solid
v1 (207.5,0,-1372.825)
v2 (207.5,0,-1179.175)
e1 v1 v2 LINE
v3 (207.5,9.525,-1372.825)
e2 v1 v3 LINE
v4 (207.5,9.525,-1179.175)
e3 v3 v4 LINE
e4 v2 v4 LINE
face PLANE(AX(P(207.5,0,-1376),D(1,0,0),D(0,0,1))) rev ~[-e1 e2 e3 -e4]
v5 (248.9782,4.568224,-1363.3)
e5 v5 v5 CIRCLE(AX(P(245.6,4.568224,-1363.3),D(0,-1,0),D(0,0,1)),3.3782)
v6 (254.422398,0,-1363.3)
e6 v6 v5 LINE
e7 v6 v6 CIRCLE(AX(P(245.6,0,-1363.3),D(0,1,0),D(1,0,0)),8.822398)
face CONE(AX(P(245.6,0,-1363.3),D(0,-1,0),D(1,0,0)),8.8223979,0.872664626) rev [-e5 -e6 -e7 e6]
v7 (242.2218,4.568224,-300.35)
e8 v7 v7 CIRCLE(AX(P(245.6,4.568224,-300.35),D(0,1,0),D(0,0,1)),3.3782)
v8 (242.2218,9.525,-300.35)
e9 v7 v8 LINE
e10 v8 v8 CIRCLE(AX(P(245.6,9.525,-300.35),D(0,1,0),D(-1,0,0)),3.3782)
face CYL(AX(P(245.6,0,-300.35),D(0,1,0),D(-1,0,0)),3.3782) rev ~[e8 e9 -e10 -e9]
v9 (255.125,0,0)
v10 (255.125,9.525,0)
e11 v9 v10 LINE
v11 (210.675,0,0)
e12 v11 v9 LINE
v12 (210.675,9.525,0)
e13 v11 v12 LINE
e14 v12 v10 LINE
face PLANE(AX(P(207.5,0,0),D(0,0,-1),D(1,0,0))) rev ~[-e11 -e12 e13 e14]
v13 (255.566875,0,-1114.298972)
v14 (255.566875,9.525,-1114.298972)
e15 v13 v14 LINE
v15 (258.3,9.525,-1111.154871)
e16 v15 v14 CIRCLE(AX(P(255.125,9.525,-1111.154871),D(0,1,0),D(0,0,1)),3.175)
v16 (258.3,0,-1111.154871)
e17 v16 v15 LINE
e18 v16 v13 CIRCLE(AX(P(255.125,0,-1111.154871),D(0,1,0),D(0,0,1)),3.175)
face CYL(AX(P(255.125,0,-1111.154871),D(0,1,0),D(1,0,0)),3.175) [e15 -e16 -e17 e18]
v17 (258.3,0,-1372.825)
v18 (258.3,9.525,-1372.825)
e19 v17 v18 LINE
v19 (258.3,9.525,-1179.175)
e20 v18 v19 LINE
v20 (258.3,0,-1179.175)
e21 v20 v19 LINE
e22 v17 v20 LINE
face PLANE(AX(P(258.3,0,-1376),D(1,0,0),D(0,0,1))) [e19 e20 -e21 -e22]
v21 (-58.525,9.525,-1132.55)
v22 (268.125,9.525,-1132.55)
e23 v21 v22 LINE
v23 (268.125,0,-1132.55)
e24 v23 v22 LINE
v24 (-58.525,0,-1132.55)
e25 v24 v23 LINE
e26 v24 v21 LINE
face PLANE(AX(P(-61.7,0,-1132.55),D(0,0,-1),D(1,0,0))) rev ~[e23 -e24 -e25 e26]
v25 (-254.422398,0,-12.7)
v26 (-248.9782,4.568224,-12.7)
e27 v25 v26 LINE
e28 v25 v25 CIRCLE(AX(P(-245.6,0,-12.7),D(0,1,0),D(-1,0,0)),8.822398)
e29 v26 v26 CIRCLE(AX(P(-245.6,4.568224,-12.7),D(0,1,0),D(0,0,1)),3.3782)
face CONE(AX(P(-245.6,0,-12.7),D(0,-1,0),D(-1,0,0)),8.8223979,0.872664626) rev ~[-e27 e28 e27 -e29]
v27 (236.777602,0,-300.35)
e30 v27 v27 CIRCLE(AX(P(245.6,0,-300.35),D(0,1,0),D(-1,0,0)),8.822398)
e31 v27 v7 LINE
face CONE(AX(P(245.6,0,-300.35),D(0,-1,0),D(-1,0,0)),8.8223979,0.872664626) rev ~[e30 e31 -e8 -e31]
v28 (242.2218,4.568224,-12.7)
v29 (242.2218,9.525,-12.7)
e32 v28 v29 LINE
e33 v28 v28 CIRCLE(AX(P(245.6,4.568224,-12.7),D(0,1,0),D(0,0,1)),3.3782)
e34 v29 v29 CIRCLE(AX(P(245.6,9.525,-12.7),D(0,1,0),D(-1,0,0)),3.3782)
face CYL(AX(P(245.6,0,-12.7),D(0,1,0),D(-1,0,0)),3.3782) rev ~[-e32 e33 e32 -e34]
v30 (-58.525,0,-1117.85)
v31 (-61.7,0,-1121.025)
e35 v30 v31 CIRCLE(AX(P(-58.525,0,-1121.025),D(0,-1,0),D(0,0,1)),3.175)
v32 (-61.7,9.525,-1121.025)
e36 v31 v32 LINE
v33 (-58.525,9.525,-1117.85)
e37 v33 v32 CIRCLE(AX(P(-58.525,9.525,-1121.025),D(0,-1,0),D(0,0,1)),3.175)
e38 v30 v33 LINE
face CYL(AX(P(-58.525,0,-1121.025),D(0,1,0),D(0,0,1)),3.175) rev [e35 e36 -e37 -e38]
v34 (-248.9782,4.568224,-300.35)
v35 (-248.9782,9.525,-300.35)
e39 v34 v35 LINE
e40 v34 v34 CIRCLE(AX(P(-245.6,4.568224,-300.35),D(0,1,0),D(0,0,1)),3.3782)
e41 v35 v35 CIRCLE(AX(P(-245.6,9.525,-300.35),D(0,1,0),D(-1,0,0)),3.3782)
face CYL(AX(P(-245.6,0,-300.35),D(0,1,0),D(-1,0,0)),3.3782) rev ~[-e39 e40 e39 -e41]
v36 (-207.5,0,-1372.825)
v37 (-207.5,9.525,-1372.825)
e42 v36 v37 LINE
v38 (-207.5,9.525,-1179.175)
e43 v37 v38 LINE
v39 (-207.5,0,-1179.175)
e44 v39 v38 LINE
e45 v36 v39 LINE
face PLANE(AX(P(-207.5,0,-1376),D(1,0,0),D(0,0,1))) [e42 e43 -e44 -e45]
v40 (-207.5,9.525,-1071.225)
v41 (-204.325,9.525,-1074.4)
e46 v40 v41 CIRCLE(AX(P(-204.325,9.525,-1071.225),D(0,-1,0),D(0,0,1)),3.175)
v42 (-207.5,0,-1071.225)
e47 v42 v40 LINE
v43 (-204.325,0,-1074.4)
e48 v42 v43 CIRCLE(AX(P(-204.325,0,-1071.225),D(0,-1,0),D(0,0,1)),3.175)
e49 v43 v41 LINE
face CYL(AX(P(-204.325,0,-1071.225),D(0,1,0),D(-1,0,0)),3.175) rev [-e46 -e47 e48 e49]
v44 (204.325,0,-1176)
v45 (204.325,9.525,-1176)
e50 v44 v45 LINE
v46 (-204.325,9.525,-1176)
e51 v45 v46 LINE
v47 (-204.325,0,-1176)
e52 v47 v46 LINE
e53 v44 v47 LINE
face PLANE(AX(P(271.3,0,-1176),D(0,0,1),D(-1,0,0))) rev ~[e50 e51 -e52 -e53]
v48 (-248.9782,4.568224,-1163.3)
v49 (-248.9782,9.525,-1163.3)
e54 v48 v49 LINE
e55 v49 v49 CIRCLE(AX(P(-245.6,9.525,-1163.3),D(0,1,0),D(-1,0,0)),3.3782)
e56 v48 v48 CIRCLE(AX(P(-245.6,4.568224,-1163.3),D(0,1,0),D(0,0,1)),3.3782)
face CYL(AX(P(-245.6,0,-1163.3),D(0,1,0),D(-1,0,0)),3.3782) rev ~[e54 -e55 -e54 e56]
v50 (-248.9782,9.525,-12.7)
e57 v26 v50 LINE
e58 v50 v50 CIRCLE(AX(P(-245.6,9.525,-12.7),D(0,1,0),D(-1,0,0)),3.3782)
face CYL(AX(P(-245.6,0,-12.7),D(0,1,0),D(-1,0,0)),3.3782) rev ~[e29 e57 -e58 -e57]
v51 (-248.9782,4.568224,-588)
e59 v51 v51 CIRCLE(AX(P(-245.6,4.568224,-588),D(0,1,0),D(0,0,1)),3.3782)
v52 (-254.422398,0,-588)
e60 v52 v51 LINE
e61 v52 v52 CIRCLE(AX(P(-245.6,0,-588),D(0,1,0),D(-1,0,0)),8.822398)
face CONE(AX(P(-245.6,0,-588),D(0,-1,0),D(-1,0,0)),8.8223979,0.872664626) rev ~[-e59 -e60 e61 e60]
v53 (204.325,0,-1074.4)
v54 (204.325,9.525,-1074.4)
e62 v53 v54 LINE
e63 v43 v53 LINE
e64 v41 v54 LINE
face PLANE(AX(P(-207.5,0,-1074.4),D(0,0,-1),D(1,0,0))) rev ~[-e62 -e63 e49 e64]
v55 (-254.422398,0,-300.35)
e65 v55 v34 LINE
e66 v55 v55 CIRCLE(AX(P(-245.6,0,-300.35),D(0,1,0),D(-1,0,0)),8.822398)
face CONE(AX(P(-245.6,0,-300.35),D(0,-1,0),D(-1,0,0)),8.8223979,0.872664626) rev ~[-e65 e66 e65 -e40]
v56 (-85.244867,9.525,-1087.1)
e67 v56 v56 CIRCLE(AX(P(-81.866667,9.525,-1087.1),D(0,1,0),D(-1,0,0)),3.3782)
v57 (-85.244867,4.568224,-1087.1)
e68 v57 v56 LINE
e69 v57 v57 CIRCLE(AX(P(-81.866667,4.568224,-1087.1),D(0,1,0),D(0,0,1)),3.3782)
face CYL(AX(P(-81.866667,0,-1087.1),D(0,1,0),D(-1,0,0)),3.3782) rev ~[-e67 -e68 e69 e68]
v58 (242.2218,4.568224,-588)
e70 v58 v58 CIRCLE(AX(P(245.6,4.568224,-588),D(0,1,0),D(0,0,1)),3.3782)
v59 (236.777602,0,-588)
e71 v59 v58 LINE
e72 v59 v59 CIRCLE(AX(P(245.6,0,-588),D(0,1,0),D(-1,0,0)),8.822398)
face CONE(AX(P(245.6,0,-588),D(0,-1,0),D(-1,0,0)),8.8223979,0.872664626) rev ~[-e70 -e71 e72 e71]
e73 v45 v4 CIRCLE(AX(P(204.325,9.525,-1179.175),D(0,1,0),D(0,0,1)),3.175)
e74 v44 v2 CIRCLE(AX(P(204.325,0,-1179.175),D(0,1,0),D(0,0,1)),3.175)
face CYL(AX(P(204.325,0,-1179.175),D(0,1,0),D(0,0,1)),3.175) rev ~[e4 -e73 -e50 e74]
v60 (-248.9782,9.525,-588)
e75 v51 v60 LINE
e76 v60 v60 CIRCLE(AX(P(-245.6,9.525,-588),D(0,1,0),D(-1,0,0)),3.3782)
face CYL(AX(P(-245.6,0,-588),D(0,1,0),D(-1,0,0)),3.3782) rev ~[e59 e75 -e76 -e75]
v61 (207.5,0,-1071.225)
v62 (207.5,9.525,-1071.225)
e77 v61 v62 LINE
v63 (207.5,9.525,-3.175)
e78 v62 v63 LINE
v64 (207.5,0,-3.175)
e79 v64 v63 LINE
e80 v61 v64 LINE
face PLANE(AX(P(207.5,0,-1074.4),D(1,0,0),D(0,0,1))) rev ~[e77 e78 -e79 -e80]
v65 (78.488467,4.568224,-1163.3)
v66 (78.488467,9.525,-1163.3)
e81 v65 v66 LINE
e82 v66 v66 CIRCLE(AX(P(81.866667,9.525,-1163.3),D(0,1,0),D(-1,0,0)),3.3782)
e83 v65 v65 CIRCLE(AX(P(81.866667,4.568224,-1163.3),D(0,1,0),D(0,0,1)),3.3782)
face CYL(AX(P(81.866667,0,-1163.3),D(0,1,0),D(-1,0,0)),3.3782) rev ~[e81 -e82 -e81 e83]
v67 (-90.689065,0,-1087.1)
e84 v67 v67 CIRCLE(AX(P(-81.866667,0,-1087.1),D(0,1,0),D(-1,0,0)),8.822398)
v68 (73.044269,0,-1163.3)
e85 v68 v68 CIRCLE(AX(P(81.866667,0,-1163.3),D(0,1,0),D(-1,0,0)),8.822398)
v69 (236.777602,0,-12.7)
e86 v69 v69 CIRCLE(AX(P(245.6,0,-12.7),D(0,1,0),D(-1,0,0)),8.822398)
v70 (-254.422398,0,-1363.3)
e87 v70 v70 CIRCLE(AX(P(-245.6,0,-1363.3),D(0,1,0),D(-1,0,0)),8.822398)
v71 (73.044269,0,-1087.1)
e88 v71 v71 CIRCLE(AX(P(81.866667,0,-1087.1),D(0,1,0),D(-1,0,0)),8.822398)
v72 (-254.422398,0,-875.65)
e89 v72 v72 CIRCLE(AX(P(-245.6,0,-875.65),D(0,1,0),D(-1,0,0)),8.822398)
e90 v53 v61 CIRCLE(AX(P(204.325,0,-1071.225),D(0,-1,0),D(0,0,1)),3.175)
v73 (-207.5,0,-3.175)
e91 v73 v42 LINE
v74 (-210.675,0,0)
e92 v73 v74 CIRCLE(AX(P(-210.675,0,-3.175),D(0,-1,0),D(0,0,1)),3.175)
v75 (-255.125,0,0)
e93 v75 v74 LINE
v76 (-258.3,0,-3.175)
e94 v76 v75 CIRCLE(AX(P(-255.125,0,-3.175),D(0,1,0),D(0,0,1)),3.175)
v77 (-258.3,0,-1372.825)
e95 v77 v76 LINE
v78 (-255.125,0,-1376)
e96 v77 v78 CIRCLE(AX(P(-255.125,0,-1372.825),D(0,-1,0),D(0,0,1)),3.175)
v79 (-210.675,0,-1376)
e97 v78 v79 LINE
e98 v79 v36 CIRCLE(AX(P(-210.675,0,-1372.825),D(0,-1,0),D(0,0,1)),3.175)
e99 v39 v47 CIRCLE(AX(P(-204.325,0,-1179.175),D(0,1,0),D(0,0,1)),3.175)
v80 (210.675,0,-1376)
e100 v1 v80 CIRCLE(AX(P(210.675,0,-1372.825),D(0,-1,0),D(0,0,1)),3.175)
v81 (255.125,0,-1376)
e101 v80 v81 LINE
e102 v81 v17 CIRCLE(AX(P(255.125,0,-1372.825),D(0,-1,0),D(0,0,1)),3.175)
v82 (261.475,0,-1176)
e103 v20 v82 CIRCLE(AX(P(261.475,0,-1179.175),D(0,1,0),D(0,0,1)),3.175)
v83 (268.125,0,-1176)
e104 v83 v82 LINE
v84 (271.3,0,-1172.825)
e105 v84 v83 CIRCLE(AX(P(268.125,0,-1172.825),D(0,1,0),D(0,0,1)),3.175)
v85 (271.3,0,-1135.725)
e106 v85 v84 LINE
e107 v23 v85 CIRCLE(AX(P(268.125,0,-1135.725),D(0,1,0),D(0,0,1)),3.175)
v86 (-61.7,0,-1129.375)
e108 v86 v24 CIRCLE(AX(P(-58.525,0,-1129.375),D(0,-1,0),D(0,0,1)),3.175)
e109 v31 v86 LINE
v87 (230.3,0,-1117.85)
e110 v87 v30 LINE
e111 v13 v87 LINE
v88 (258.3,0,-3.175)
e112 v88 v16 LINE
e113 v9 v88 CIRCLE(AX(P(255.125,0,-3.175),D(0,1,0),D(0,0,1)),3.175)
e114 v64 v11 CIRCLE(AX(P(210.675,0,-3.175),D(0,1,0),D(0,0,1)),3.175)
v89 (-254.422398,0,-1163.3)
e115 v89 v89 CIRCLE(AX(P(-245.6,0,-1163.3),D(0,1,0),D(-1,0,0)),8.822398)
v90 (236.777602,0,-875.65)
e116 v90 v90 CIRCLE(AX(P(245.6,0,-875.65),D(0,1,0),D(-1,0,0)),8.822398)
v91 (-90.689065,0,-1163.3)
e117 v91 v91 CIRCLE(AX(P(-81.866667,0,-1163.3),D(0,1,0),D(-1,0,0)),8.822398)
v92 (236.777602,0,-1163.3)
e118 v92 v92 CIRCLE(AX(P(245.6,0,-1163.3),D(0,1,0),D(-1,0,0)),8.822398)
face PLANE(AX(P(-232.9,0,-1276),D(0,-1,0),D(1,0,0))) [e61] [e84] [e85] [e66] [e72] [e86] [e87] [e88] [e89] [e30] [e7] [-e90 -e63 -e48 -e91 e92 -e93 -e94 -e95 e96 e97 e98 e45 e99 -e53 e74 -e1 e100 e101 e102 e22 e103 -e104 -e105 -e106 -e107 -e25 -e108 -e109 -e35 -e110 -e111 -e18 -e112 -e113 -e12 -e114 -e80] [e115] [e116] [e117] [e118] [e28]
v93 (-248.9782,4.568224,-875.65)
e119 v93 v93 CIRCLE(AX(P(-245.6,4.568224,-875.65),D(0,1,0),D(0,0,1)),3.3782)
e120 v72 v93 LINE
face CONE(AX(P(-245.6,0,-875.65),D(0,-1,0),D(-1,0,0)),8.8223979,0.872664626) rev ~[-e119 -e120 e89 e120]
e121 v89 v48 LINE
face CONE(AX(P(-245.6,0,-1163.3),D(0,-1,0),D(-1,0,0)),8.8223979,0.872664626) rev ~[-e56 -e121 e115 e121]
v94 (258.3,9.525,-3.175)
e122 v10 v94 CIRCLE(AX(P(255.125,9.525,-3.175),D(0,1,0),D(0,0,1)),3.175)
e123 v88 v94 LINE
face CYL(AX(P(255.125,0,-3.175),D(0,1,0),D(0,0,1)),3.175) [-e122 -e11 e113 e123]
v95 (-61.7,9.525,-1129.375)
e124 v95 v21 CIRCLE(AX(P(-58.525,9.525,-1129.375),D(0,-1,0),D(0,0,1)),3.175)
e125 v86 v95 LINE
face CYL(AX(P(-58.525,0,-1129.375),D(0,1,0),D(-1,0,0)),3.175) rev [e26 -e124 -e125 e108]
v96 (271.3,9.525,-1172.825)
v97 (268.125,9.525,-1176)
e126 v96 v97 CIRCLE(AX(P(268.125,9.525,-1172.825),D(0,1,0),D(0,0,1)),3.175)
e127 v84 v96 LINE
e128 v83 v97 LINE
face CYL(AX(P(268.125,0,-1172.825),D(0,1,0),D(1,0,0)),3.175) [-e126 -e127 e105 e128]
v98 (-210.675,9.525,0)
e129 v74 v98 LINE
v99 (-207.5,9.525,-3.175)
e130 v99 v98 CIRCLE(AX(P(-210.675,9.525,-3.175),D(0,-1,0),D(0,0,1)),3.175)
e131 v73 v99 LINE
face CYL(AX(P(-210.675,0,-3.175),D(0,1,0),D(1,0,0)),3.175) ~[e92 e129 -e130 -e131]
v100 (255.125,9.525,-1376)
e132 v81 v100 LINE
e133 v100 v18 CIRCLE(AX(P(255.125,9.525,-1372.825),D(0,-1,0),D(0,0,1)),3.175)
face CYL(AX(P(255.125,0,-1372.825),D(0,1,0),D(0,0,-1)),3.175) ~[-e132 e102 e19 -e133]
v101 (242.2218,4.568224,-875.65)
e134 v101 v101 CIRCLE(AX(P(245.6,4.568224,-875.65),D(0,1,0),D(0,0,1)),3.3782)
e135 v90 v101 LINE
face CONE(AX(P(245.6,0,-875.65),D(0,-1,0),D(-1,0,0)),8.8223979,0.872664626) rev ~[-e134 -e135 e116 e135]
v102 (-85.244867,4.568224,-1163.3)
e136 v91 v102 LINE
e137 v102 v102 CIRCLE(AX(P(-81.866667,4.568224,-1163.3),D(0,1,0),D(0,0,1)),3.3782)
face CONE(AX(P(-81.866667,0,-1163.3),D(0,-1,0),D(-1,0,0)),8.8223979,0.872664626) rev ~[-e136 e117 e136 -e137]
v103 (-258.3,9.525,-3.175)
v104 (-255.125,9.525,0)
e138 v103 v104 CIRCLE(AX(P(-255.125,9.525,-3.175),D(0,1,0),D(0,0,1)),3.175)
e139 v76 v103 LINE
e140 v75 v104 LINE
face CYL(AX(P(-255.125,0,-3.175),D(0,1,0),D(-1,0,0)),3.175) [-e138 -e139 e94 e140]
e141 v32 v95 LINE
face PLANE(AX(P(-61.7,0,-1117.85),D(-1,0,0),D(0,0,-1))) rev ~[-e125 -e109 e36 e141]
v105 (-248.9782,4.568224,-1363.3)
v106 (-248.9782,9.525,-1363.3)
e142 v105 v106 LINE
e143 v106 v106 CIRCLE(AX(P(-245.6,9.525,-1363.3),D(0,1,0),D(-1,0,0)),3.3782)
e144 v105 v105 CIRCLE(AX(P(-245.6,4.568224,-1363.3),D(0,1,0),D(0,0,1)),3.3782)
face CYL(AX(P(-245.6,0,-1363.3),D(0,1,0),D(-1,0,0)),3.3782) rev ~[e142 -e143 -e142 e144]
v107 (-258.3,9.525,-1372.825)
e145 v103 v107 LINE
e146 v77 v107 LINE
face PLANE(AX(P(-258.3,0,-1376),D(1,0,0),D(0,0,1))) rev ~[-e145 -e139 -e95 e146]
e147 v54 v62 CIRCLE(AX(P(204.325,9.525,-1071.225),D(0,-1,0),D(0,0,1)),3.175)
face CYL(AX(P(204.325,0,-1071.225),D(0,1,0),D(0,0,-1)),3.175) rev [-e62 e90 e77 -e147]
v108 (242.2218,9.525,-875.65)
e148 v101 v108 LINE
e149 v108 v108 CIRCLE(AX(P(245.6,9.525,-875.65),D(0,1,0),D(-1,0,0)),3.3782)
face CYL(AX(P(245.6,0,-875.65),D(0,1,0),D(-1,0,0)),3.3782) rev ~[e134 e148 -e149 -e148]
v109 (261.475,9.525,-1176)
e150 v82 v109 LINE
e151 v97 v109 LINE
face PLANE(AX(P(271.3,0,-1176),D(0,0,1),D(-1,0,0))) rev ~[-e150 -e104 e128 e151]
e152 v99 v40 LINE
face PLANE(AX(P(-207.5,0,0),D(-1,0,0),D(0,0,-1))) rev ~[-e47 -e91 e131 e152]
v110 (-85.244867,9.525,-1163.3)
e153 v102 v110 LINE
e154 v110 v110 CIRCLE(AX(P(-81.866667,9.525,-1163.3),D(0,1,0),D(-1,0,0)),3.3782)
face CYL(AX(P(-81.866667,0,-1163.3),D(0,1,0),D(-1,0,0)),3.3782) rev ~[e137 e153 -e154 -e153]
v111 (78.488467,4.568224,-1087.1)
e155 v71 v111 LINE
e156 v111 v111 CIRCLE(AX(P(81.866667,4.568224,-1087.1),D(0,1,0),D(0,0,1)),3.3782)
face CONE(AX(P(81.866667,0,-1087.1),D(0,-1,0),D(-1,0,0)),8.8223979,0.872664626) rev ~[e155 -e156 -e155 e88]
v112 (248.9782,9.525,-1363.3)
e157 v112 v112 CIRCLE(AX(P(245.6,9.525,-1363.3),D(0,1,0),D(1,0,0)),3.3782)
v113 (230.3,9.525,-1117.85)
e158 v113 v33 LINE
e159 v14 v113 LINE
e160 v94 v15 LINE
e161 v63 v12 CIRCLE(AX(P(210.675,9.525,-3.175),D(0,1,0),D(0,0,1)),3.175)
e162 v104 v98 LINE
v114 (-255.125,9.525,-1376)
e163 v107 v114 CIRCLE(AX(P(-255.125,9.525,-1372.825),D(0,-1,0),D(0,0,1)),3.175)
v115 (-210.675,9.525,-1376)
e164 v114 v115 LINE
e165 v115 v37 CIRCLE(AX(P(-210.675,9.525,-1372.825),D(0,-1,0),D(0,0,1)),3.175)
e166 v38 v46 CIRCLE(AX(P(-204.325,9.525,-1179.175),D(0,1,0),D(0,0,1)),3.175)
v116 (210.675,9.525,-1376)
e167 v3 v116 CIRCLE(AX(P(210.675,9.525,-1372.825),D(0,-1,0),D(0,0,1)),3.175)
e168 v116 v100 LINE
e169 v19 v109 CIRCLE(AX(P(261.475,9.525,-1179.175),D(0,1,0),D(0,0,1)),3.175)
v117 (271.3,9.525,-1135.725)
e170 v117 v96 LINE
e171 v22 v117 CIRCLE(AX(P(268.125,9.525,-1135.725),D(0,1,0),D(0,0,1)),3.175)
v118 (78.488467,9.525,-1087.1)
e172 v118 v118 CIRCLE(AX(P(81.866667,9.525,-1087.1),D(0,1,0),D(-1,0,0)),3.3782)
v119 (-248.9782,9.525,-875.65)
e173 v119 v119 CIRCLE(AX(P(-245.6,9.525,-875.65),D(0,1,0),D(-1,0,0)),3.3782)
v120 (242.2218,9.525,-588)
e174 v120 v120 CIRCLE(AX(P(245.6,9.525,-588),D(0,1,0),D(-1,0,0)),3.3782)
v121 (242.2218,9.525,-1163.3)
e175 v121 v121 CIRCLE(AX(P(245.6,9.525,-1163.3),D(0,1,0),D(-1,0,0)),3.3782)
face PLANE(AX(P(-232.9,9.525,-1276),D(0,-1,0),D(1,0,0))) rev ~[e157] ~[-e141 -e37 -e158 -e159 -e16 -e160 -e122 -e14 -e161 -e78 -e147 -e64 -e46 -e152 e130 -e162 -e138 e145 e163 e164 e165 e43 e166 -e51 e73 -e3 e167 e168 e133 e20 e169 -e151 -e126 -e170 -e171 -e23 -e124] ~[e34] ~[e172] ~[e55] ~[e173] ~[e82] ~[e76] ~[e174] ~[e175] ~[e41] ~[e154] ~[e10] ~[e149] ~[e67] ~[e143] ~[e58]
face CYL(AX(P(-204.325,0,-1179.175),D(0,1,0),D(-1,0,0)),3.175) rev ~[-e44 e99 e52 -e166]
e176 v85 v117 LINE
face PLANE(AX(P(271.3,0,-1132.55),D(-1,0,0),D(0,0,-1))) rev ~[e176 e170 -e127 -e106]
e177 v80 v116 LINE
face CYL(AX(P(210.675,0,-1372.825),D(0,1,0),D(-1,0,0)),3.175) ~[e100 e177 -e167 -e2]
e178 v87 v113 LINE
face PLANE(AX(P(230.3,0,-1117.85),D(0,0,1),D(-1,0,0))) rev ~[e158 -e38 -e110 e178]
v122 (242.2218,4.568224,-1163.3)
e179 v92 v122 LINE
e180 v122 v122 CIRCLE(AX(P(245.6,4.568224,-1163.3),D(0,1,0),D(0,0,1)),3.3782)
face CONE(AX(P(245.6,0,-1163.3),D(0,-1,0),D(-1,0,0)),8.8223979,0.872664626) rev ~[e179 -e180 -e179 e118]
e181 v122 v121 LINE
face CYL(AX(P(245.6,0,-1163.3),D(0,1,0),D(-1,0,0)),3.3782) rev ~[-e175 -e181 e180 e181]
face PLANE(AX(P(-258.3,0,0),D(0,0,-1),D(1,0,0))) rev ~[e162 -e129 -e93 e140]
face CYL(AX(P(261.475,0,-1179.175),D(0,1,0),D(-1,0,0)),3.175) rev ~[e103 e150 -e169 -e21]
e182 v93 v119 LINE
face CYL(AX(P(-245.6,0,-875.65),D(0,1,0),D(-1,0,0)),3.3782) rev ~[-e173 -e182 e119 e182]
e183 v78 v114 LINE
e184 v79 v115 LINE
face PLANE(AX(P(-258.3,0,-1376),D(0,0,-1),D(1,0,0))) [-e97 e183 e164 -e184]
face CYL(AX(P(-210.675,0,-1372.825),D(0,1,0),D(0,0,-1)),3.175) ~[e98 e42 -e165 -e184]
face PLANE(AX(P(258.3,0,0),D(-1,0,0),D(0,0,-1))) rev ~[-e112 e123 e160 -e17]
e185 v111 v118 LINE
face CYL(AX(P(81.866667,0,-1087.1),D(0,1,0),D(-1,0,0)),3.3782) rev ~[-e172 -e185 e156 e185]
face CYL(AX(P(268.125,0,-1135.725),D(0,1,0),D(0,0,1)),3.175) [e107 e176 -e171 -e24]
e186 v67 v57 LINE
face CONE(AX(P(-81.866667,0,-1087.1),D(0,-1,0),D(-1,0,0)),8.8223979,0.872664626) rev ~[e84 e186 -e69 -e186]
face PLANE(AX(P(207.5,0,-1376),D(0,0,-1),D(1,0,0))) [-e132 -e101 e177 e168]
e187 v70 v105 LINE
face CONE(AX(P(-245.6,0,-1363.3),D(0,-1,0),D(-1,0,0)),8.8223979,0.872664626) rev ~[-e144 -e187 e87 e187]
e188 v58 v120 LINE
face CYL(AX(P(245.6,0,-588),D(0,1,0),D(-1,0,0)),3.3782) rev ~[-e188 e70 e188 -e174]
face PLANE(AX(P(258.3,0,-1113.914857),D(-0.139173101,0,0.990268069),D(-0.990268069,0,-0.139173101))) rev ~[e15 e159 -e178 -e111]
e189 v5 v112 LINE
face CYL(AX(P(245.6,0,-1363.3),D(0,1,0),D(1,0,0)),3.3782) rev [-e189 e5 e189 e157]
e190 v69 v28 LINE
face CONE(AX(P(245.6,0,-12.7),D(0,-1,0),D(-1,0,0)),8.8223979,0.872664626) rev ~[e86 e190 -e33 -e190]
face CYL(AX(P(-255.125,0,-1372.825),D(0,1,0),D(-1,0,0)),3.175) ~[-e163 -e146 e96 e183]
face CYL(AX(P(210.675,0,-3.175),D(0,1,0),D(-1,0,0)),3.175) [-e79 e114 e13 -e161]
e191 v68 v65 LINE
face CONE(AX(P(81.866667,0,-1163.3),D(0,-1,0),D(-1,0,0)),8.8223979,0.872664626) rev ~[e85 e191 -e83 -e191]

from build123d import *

# Parameters (mm, degrees)
BOSS_EXTRUDE1_DEPTH                                 = 9.525
SKETCH4_W                                           = 50.8
SKETCH4_H                                           = 200
BOSS_EXTRUDE2_DEPTH                                 = 9.525
CSK_FOR_1_4_FLAT_HEAD_MACHINE_SCREW_100_D           = 6.7564
CSK_FOR_1_4_FLAT_HEAD_MACHINE_SCREW_100_CSINK_D     = 17.6447958
CSK_FOR_1_4_FLAT_HEAD_MACHINE_SCREW_100_CSINK_ANGLE = 100
LPATTERN1_COUNT                                     = 2
LPATTERN1_PITCH                                     = 491.2
LPATTERN1_COUNT_DIR2                                = 5
LPATTERN1_PITCH_DIR2                                = 287.65
LPATTERN2_COUNT                                     = 3
LPATTERN2_PITCH                                     = 163.733333333
LPATTERN2_COUNT_DIR2                                = 2
LPATTERN2_PITCH_DIR2                                = 76.2
CSK_FOR_1_4_FLAT_HEAD_MACHINE_SCREW_2_D             = 6.7564
CSK_FOR_1_4_FLAT_HEAD_MACHINE_SCREW_2_CSINK_D       = 17.6447958
CSK_FOR_1_4_FLAT_HEAD_MACHINE_SCREW_2_CSINK_ANGLE   = 100
FILLET1_R                                           = 3.175
FILLET2_R                                           = 3.175


with BuildPart() as part:
    # Sketch1 → Boss-Extrude1 (new body)
    with BuildSketch(Plane(origin=(0, 0, 0), x_dir=(1, 0, 0), z_dir=(0, 1, 0))):
        Polygon((-258.3, 0), (-207.5, 0), (-207.5, 1074.4), (207.5, 1074.4), (207.5, 0), (258.3, 0), (258.3, 1113.914856628), (230.3, 1117.85), (-61.7, 1117.85), (-61.7, 1132.55), (271.3, 1132.55), (271.3, 1176), (-258.3, 1176), align=None)
    extrude(amount=BOSS_EXTRUDE1_DEPTH)

    # Sketch4 → Boss-Extrude2 (add)
    with BuildSketch(Plane.XZ):
        with Locations((-232.9, -1276)):
            Rectangle(SKETCH4_W, SKETCH4_H)
        with Locations((232.9, -1276)):
            Rectangle(SKETCH4_W, SKETCH4_H)
    extrude(amount=-BOSS_EXTRUDE2_DEPTH)

    # CSK for 1_4 Flat Head Machine Screw _100 (through all)
    with Locations(Plane.XZ):
        with Locations((-245.6, -1163.3)):
            csk_for_1_4_flat_head_machine_screw_100 = CounterSinkHole(CSK_FOR_1_4_FLAT_HEAD_MACHINE_SCREW_100_D / 2, CSK_FOR_1_4_FLAT_HEAD_MACHINE_SCREW_100_CSINK_D / 2, counter_sink_angle=CSK_FOR_1_4_FLAT_HEAD_MACHINE_SCREW_100_CSINK_ANGLE)

    # LPattern1: CSK for 1_4 Flat Head Machine Screw _100 2 × 5
    with Locations(*[(i * LPATTERN1_PITCH, 0, j * LPATTERN1_PITCH_DIR2) for i in range(LPATTERN1_COUNT) for j in range(LPATTERN1_COUNT_DIR2) if (i, j) != (0, 0)]):
        add(csk_for_1_4_flat_head_machine_screw_100, mode=Mode.SUBTRACT)

    # LPattern2: CSK for 1_4 Flat Head Machine Screw _100 3 × 2, 1 skipped
    with Locations(*[(i * LPATTERN2_PITCH, 0, j * LPATTERN2_PITCH_DIR2) for i in range(LPATTERN2_COUNT) for j in range(LPATTERN2_COUNT_DIR2) if (i, j) not in ((0, 0), (0, 1))]):
        add(csk_for_1_4_flat_head_machine_screw_100, mode=Mode.SUBTRACT)

    # CSK for 1_4 Flat Head Machine Screw  2 (through all)
    with Locations(Plane.XZ):
        with Locations((-245.6, -1363.3)):
            csk_for_1_4_flat_head_machine_screw_2 = CounterSinkHole(CSK_FOR_1_4_FLAT_HEAD_MACHINE_SCREW_2_D / 2, CSK_FOR_1_4_FLAT_HEAD_MACHINE_SCREW_2_CSINK_D / 2, counter_sink_angle=CSK_FOR_1_4_FLAT_HEAD_MACHINE_SCREW_2_CSINK_ANGLE)

    # Mirror1: CSK for 1_4 Flat Head Machine Screw  2 across plane
    add(csk_for_1_4_flat_head_machine_screw_2.mirror(Plane(origin=(0, 0, 0), x_dir=(0, 0, 1), z_dir=(1, 0, 0))), mode=Mode.SUBTRACT)

    # Fillet1
    fillet1_edges = [part.edges().sort_by_distance(p)[0] for p in [
        (258.3, 4.7625, 0),
        (207.5, 4.7625, 0),
        (-207.5, 4.7625, 0),
        (-258.3, 4.7625, 0),
        (207.5, 4.7625, -1074.4),
        (-207.5, 4.7625, -1074.4),
        (258.3, 4.7625, -1113.914856628),
        (271.3, 4.7625, -1132.55),
        (271.3, 4.7625, -1176),
        (-61.7, 4.7625, -1117.85),
        (-61.7, 4.7625, -1132.55),
    ]]
    fillet(fillet1_edges, radius=FILLET1_R)

    # Fillet2
    fillet2_edges = [part.edges().sort_by_distance(p)[0] for p in [
        (207.5, 4.7625, -1376),
        (258.3, 4.7625, -1376),
        (-258.3, 4.7625, -1376),
        (-207.5, 4.7625, -1376),
        (-207.5, 4.7625, -1176),
        (207.5, 4.7625, -1176),
        (258.3, 4.7625, -1176),
    ]]
    fillet(fillet2_edges, radius=FILLET2_R)


solid = part.part
